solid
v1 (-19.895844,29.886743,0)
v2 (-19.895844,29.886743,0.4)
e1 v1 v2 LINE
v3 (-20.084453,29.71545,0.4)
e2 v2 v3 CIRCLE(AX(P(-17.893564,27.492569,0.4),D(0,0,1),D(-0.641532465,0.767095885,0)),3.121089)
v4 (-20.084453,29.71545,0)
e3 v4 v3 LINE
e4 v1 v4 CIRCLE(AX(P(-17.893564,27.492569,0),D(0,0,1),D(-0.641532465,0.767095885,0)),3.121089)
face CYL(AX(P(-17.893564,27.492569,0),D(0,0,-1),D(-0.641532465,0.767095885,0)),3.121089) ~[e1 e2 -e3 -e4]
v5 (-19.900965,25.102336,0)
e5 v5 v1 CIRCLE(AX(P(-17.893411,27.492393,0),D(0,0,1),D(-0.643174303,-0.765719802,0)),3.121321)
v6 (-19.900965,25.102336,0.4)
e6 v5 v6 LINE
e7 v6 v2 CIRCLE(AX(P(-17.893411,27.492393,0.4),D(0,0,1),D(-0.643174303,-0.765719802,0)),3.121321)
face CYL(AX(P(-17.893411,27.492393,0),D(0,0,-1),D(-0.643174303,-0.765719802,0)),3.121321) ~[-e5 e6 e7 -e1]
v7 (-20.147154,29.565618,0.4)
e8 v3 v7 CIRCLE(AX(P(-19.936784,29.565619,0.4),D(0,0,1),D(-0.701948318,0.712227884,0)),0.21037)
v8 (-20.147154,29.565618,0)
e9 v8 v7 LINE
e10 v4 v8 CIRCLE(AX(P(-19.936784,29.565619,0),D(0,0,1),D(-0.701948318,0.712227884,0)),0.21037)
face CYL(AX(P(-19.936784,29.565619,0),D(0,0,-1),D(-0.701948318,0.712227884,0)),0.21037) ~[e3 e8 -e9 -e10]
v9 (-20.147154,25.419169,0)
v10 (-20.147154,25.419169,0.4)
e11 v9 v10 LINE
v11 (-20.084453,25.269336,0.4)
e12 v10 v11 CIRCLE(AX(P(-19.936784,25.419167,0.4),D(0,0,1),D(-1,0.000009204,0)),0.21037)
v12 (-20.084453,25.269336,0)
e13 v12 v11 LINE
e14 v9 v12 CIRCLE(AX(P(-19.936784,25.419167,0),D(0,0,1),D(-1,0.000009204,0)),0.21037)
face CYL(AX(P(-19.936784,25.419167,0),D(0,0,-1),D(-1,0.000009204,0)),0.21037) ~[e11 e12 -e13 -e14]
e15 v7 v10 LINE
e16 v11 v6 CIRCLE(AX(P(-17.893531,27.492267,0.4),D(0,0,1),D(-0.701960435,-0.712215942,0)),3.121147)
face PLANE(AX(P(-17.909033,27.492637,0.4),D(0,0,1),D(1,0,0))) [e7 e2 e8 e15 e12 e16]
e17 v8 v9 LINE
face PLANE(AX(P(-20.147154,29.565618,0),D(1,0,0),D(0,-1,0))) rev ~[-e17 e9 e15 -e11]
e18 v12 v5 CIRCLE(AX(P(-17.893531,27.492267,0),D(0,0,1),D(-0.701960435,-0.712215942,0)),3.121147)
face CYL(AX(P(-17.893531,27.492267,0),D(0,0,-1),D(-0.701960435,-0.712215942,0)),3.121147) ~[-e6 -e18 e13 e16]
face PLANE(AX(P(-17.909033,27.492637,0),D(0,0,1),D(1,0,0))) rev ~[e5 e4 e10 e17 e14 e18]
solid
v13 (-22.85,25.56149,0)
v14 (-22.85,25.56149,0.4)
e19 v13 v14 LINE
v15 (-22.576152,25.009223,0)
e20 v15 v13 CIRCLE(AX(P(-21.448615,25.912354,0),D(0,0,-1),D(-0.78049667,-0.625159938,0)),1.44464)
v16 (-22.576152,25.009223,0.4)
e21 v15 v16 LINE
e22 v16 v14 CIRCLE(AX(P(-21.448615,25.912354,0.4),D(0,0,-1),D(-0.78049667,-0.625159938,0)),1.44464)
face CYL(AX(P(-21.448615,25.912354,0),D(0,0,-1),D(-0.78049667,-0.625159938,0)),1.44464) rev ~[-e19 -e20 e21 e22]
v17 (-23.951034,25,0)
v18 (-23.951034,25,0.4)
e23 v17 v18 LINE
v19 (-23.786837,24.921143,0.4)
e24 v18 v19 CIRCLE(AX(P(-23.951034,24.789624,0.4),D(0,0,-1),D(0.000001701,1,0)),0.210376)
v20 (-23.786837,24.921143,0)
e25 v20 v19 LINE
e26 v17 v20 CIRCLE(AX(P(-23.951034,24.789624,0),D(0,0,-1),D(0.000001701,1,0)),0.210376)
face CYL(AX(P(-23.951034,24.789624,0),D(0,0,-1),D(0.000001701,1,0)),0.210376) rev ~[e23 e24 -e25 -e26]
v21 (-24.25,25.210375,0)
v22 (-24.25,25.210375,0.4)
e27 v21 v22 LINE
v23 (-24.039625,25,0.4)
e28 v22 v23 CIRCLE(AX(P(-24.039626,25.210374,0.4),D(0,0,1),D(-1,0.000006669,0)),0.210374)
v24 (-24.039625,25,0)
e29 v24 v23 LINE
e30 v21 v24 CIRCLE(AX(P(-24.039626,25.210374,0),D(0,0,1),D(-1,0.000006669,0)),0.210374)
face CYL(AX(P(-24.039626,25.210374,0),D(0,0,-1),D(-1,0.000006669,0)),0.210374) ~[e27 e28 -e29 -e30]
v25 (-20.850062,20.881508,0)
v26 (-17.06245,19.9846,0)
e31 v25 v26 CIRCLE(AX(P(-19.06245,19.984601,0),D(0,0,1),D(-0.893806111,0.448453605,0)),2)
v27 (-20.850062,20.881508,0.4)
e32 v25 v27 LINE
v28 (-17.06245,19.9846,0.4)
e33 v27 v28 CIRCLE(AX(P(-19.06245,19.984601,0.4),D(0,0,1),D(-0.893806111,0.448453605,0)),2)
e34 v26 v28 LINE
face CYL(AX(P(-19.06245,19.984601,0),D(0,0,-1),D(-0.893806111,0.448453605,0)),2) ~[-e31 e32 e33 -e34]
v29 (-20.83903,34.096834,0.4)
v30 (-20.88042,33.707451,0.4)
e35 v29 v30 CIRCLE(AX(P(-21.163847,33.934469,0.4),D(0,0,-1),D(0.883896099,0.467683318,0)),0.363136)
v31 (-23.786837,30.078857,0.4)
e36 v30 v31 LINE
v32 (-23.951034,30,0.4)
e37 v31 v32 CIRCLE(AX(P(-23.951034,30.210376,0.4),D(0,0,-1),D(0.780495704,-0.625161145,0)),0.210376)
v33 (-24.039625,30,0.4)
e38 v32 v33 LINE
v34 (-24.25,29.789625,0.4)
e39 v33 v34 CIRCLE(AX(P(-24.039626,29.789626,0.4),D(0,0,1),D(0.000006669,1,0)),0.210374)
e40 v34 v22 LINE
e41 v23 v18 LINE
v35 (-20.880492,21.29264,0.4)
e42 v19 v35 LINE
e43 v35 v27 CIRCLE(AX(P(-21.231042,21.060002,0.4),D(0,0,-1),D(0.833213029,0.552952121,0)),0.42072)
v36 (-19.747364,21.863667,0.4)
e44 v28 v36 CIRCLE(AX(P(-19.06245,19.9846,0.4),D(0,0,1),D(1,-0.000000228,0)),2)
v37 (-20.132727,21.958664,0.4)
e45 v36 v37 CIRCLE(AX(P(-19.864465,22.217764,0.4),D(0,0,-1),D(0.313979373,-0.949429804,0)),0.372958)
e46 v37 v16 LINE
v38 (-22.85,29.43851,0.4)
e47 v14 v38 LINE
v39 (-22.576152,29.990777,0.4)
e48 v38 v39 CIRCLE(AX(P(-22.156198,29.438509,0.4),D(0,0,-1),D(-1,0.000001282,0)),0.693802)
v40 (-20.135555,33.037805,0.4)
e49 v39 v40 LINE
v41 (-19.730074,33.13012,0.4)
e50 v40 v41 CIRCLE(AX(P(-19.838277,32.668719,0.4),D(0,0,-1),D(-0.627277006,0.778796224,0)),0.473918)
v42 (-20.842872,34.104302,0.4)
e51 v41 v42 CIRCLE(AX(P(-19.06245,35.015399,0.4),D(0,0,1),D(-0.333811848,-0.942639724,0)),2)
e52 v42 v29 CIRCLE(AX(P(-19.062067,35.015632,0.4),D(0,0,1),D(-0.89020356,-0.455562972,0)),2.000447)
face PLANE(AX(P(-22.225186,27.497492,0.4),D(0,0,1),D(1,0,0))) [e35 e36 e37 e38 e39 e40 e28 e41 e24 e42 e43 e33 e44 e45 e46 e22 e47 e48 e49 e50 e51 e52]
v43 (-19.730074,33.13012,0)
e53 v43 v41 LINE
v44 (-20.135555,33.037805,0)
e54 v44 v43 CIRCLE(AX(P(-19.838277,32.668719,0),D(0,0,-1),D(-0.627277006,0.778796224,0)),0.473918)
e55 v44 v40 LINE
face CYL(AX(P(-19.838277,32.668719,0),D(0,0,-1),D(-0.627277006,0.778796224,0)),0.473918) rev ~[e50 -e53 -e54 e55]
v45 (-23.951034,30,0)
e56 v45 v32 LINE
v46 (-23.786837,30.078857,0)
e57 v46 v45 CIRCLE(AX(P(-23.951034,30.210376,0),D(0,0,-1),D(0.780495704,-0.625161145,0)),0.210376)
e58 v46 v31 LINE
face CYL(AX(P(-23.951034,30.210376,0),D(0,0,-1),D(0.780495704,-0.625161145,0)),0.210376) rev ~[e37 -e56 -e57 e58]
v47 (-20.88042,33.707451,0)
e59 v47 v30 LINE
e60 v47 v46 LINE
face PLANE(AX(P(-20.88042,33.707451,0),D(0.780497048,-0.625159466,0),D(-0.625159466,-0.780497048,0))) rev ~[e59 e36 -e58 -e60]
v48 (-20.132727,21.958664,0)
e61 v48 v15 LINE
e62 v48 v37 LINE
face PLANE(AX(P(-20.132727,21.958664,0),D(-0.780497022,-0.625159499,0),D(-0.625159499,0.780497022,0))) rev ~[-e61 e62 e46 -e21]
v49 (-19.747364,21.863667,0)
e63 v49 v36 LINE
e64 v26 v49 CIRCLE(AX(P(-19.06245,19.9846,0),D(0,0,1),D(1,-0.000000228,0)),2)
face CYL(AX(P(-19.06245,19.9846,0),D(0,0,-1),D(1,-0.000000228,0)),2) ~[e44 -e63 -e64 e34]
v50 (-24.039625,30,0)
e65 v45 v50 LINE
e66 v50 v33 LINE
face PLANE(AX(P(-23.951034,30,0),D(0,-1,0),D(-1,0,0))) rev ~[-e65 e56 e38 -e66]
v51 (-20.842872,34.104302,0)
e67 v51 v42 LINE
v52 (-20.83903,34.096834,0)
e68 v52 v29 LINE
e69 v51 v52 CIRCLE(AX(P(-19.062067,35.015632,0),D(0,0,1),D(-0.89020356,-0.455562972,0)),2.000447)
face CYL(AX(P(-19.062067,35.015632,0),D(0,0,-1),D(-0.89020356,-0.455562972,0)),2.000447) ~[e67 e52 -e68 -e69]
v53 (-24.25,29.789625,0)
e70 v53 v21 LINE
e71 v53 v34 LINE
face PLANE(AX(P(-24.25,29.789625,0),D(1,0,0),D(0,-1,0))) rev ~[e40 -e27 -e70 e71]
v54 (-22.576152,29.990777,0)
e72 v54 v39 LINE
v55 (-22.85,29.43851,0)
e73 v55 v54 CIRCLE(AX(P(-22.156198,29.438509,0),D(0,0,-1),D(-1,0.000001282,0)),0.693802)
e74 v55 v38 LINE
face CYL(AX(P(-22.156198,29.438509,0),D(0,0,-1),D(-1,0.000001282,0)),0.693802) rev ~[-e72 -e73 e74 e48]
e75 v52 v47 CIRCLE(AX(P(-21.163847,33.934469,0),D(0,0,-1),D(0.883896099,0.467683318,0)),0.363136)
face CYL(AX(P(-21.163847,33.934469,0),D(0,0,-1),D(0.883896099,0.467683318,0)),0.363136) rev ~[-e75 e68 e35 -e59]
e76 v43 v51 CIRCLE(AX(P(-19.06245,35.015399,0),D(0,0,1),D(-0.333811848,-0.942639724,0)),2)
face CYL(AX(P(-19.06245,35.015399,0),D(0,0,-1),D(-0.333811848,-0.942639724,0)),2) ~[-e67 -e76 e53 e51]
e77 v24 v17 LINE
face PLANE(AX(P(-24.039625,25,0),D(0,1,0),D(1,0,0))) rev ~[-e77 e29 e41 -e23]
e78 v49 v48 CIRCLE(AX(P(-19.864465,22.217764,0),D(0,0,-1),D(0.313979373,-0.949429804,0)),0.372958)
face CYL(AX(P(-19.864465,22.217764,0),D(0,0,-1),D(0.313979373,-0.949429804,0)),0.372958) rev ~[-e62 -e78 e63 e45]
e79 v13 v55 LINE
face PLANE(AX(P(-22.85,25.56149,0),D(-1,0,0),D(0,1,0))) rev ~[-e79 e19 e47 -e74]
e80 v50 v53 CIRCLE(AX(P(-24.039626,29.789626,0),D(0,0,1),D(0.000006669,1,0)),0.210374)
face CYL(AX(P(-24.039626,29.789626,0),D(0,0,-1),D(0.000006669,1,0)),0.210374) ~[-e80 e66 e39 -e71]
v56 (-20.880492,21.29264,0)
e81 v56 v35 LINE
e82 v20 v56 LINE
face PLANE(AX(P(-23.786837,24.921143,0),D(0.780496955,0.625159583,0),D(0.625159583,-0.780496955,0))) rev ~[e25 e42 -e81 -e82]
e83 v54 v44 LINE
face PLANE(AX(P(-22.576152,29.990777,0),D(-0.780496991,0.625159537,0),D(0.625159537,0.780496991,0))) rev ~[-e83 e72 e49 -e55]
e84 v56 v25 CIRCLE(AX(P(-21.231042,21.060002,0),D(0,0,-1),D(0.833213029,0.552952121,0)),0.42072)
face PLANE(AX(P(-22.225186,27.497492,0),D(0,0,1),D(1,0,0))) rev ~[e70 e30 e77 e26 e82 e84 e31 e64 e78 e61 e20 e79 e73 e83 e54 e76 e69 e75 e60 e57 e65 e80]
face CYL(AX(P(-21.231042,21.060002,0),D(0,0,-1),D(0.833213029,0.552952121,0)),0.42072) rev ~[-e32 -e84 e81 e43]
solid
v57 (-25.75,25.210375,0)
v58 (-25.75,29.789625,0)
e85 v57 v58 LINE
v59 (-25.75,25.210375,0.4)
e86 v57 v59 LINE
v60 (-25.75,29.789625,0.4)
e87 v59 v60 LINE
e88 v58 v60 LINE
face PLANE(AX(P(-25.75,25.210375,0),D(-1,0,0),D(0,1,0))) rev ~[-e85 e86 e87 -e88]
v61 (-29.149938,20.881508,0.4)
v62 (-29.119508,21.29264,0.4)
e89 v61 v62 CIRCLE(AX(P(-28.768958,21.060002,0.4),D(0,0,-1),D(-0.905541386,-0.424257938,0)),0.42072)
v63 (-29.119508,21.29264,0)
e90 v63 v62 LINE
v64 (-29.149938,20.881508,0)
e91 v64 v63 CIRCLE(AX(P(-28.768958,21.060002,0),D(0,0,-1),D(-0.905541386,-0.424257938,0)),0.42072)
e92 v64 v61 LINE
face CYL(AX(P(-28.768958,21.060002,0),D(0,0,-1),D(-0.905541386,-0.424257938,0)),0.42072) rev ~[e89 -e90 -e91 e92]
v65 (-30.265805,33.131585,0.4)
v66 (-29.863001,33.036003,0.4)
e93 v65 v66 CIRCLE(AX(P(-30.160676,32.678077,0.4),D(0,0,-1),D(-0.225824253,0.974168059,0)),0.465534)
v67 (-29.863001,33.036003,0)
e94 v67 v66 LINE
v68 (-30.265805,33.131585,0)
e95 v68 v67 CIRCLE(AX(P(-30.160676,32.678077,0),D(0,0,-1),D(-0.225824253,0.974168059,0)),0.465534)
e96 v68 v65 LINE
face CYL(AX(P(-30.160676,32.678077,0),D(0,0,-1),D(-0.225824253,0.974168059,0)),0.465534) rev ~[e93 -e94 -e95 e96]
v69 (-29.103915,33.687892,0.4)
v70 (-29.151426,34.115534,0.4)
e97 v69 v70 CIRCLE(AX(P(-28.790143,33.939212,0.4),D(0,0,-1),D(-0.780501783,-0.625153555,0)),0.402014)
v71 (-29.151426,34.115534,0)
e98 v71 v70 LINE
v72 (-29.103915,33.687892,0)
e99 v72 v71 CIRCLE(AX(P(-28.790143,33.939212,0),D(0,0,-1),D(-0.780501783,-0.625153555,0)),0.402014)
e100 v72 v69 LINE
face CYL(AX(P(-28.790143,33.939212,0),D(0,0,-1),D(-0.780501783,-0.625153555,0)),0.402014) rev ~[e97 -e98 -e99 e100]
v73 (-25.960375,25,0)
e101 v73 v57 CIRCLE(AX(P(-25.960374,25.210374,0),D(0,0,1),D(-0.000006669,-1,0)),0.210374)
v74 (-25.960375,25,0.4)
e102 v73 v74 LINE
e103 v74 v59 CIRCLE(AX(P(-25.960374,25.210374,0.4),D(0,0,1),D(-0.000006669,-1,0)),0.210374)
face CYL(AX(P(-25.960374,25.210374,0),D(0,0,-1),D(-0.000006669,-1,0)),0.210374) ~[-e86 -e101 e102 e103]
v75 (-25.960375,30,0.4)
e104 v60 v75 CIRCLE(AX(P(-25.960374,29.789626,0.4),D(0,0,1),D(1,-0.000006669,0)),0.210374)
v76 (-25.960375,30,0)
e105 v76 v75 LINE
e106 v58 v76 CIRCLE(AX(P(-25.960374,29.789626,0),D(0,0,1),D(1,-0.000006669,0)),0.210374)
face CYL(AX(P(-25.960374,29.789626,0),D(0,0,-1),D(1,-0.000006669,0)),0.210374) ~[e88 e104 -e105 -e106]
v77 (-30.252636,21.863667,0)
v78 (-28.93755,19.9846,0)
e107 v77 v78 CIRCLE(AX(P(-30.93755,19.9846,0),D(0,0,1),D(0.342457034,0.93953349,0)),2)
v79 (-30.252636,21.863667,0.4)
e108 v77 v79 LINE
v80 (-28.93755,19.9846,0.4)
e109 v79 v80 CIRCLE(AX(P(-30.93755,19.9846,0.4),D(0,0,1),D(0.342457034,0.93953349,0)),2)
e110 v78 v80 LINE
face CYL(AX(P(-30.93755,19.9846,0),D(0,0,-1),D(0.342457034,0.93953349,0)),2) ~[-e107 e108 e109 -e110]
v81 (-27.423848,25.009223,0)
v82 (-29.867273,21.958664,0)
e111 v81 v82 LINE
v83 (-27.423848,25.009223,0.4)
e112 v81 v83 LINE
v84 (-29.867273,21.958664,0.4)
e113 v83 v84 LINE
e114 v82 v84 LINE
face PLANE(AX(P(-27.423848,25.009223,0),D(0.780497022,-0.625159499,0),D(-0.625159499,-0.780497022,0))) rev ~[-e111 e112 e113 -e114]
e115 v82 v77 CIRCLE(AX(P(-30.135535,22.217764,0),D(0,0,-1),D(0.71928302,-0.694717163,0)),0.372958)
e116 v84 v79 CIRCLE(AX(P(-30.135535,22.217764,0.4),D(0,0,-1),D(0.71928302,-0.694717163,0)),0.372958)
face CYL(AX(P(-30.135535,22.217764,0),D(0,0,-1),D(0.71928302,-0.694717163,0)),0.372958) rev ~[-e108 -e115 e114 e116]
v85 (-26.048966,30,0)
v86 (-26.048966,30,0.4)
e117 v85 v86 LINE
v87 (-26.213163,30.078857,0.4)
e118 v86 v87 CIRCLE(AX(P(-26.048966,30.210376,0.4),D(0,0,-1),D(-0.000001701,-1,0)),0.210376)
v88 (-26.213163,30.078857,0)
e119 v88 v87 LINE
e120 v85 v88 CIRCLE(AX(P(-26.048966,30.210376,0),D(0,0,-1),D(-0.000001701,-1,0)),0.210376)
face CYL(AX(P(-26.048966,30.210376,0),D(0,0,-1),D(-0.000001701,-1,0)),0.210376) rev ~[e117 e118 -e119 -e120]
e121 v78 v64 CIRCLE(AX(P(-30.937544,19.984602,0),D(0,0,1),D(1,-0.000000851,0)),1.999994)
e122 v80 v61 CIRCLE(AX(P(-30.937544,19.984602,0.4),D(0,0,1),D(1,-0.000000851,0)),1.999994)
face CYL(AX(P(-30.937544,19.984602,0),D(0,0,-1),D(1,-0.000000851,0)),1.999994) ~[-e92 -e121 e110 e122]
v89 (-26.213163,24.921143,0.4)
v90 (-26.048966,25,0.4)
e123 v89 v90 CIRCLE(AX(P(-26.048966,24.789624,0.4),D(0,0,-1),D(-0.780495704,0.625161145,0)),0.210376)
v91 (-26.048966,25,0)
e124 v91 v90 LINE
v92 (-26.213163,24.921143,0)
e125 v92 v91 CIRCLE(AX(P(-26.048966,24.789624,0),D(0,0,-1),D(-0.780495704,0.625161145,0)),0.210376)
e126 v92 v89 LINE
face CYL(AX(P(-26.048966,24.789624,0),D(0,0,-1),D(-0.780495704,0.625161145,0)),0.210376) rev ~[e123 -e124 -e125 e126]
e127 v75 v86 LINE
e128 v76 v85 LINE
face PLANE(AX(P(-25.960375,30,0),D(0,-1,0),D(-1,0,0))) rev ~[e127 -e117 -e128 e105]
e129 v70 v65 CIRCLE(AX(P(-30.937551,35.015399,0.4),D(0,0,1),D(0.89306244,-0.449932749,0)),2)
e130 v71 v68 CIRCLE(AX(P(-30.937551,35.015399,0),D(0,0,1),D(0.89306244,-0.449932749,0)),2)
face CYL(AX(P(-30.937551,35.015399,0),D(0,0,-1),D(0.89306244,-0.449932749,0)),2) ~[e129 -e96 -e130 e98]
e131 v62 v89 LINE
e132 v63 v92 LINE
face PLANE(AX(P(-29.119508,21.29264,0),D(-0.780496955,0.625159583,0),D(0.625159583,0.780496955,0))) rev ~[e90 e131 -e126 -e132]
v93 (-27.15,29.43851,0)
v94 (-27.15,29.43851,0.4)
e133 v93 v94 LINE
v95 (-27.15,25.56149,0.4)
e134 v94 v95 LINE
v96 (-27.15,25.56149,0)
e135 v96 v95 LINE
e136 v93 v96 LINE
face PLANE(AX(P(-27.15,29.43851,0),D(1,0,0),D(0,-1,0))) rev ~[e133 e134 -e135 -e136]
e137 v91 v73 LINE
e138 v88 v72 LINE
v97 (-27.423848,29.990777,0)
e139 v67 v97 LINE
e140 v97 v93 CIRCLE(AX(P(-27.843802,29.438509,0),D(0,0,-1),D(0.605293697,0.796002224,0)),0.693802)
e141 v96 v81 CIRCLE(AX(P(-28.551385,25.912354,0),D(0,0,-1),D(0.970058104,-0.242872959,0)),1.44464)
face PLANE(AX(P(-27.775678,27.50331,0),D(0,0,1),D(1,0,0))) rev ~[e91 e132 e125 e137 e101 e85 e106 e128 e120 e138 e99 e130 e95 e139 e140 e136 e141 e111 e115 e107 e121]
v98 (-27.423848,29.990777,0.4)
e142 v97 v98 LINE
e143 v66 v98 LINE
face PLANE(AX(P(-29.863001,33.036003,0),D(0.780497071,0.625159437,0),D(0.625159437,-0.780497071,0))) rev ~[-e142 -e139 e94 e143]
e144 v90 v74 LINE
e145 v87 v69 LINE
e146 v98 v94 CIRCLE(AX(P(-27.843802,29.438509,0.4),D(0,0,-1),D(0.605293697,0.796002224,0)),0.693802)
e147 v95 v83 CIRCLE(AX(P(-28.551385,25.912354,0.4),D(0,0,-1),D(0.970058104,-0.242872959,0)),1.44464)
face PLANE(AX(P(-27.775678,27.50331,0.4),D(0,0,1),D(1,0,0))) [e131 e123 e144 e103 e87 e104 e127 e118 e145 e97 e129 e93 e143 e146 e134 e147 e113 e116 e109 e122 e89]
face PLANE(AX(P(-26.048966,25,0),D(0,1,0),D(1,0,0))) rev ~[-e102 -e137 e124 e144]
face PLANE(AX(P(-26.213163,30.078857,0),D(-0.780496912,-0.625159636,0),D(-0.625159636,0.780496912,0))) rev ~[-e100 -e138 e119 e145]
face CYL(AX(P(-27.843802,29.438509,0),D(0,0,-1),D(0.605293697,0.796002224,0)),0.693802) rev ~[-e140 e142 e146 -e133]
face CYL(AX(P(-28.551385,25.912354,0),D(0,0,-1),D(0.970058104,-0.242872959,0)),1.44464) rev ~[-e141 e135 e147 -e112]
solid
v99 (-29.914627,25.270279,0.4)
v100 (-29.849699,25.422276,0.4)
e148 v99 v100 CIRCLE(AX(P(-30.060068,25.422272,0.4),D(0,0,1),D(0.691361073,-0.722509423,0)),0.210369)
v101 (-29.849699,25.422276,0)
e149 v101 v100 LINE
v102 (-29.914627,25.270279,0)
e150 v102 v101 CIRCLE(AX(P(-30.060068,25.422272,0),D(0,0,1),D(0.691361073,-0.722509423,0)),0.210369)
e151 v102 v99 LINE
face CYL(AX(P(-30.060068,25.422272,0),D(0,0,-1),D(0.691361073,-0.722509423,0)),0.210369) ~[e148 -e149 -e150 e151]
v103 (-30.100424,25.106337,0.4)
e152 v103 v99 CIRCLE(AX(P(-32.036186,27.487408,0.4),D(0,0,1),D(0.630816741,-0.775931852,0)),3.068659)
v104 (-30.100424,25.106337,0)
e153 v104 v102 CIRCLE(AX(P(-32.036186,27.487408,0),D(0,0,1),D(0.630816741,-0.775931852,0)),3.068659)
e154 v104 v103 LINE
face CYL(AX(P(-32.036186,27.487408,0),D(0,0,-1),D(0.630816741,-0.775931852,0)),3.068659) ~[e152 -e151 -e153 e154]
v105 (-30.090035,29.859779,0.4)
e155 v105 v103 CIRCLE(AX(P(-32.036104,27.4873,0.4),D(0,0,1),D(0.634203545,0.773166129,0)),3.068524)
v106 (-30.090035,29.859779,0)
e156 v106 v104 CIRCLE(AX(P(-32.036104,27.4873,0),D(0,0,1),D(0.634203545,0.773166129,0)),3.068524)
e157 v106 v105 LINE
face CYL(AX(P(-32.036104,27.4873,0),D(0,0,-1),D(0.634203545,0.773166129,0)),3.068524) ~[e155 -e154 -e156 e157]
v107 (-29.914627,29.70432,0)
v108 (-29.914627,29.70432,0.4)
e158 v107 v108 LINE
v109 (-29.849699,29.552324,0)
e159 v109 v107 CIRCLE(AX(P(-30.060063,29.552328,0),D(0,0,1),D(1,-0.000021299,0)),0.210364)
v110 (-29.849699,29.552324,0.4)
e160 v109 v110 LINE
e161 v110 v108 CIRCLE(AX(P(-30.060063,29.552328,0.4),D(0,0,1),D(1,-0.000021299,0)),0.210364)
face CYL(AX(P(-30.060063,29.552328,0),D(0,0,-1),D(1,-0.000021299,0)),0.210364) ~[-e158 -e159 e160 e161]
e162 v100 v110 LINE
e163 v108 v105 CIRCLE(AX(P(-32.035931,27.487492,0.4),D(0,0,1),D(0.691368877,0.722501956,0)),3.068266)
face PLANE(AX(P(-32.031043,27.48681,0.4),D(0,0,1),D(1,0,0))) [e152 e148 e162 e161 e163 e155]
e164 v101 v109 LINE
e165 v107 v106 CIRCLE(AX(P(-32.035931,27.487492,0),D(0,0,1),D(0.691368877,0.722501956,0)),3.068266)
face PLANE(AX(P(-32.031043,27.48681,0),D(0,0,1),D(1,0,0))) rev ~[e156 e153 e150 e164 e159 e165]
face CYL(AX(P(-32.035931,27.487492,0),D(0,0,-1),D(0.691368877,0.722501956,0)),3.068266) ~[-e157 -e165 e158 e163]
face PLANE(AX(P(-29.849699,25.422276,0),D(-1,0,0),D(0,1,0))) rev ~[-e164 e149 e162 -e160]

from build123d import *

# Parameters (mm, degrees)
F1_DEPTH = 0.4


with BuildPart() as f1:
    # F0 (on Top) → F1 (new body)
    with BuildSketch(Plane.XY):
        with BuildLine():
            Line((-23.951034, 30), (-24.039625, 30))
            ThreePointArc((-24.039625, 30), (-24.188383, 29.938383), (-24.25, 29.789625))
            Line((-24.25, 29.789625), (-24.25, 28.186315))
            Line((-24.25, 28.186315), (-24.25, 28.012378))
            Line((-24.25, 28.012378), (-24.25, 27.5))
            Line((-24.25, 27.5), (-24.25, 26.987622))
            Line((-24.25, 26.987622), (-24.25, 26.813685))
            Line((-24.25, 26.813685), (-24.25, 25.210375))
            ThreePointArc((-24.25, 25.210375), (-24.188383, 25.061617), (-24.039625, 25))
            Line((-24.039625, 25), (-23.951034, 25))
            ThreePointArc((-23.951034, 25), (-23.859959, 24.979264), (-23.786837, 24.921143))
            Line((-23.786837, 24.921143), (-20.880492, 21.29264))
            ThreePointArc((-20.880492, 21.29264), (-20.811469, 21.091056), (-20.850062, 20.881508))
            ThreePointArc((-20.850062, 20.881508), (-20.392678, 21.478084), (-19.747364, 21.863667))
            ThreePointArc((-19.747364, 21.863667), (-19.953732, 21.855647), (-20.132727, 21.958664))
            Line((-20.132727, 21.958664), (-22.576152, 25.009223))
            ThreePointArc((-22.576152, 25.009223), (-22.742876, 25.27058), (-22.85, 25.56149))
            Line((-22.85, 25.56149), (-22.85, 29.43851))
            ThreePointArc((-22.85, 29.43851), (-22.777779, 29.746727), (-22.576152, 29.990777))
            Line((-22.576152, 29.990777), (-20.135555, 33.037805))
            ThreePointArc((-20.135555, 33.037805), (-19.943481, 33.130813), (-19.730074, 33.13012))
            ThreePointArc((-19.730074, 33.13012), (-19.855041, 33.179154), (-19.976437, 33.23646))
            ThreePointArc((-19.976437, 33.23646), (-20.392678, 33.521916), (-20.724202, 33.902485))
            ThreePointArc((-20.724202, 33.902485), (-20.786492, 34.001656), (-20.842872, 34.104302))
            ThreePointArc((-20.842872, 34.104302), (-20.802325, 33.900264), (-20.88042, 33.707451))
            Line((-20.88042, 33.707451), (-23.786837, 30.078857))
            ThreePointArc((-23.786837, 30.078857), (-23.859959, 30.020736), (-23.951034, 30))
        make_face()
        with BuildLine():
            Line((-29.863001, 33.036003), (-27.423848, 29.990777))
            ThreePointArc((-27.423848, 29.990777), (-27.222221, 29.746727), (-27.15, 29.43851))
            Line((-27.15, 29.43851), (-27.15, 25.56149))
            ThreePointArc((-27.15, 25.56149), (-27.257124, 25.27058), (-27.423848, 25.009223))
            Line((-27.423848, 25.009223), (-29.867273, 21.958664))
            ThreePointArc((-29.867273, 21.958664), (-30.046268, 21.855647), (-30.252636, 21.863667))
            ThreePointArc((-30.252636, 21.863667), (-29.607322, 21.478084), (-29.149938, 20.881508))
            ThreePointArc((-29.149938, 20.881508), (-29.188531, 21.091056), (-29.119508, 21.29264))
            Line((-29.119508, 21.29264), (-26.213163, 24.921143))
            ThreePointArc((-26.213163, 24.921143), (-26.140041, 24.979264), (-26.048966, 25))
            Line((-26.048966, 25), (-25.960375, 25))
            ThreePointArc((-25.960375, 25), (-25.811617, 25.061617), (-25.75, 25.210375))
            Line((-25.75, 25.210375), (-25.75, 26.987622))
            Line((-25.75, 26.987622), (-25.75, 28.012378))
            Line((-25.75, 28.012378), (-25.75, 29.789625))
            ThreePointArc((-25.75, 29.789625), (-25.811617, 29.938383), (-25.960375, 30))
            Line((-25.960375, 30), (-26.048966, 30))
            ThreePointArc((-26.048966, 30), (-26.140041, 30.020736), (-26.213163, 30.078857))
            Line((-26.213163, 30.078857), (-29.103915, 33.687892))
            ThreePointArc((-29.103915, 33.687892), (-29.189698, 33.894822), (-29.151426, 34.115534))
            ThreePointArc((-29.151426, 34.115534), (-29.517746, 33.606799), (-30.023563, 33.23646))
            ThreePointArc((-30.023563, 33.23646), (-30.142952, 33.180021), (-30.265805, 33.131585))
            ThreePointArc((-30.265805, 33.131585), (-30.053194, 33.131033), (-29.863001, 33.036003))
        make_face()
        with BuildLine():
            ThreePointArc((-29.151426, 34.115534), (-32.261302, 36.514626), (-30.265805, 33.131585))
            ThreePointArc((-30.265805, 33.131585), (-30.142952, 33.180021), (-30.023563, 33.23646))
            ThreePointArc((-30.023563, 33.23646), (-29.517746, 33.606799), (-29.151426, 34.115534))
        make_face()
        with BuildLine():
            ThreePointArc((-19.730074, 33.13012), (-17.74507, 36.520228), (-20.842872, 34.104302))
            ThreePointArc((-20.842872, 34.104302), (-20.786492, 34.001656), (-20.724202, 33.902485))
            ThreePointArc((-20.724202, 33.902485), (-20.392678, 33.521916), (-19.976437, 33.23646))
            ThreePointArc((-19.976437, 33.23646), (-19.855041, 33.179154), (-19.730074, 33.13012))
        make_face()
        with BuildLine():
            ThreePointArc((-19.900965, 25.102336), (-14.772092, 27.489052), (-19.895844, 29.886743))
            ThreePointArc((-19.895844, 29.886743), (-19.991897, 29.803022), (-20.084453, 29.71545))
            ThreePointArc((-20.084453, 29.71545), (-20.130847, 29.646829), (-20.147154, 29.565618))
            Line((-20.147154, 29.565618), (-20.147154, 25.419169))
            ThreePointArc((-20.147154, 25.419169), (-20.130847, 25.337957), (-20.084453, 25.269336))
            ThreePointArc((-20.084453, 25.269336), (-19.994369, 25.184012), (-19.900965, 25.102336))
        make_face()
        with BuildLine():
            ThreePointArc((-19.747364, 21.863667), (-20.392678, 21.478084), (-20.850062, 20.881508))
            ThreePointArc((-20.850062, 20.881508), (-19.523305, 18.038422), (-17.06245, 19.9846))
            ThreePointArc((-17.06245, 19.9846), (-17.915678, 21.623171), (-19.747364, 21.863667))
        make_face()
        with BuildLine():
            ThreePointArc((-29.149938, 20.881508), (-29.607322, 21.478084), (-30.252636, 21.863667))
            ThreePointArc((-30.252636, 21.863667), (-32.576121, 18.837828), (-28.93755, 19.9846))
            ThreePointArc((-28.93755, 19.9846), (-28.991371, 20.445456), (-29.149938, 20.881508))
        make_face()
        with BuildLine():
            ThreePointArc((-29.914627, 29.70432), (-30.000846, 29.783725), (-30.090035, 29.859779))
            ThreePointArc((-30.090035, 29.859779), (-35.104621, 27.494006), (-30.100424, 25.106337))
            ThreePointArc((-30.100424, 25.106337), (-30.00587, 25.186432), (-29.914627, 25.270279))
            ThreePointArc((-29.914627, 25.270279), (-29.86661, 25.339634), (-29.849699, 25.422276))
            Line((-29.849699, 25.422276), (-29.849699, 29.552324))
            ThreePointArc((-29.849699, 29.552324), (-29.86661, 29.634966), (-29.914627, 29.70432))
        make_face()
    extrude(amount=F1_DEPTH)


solid = f1.part
